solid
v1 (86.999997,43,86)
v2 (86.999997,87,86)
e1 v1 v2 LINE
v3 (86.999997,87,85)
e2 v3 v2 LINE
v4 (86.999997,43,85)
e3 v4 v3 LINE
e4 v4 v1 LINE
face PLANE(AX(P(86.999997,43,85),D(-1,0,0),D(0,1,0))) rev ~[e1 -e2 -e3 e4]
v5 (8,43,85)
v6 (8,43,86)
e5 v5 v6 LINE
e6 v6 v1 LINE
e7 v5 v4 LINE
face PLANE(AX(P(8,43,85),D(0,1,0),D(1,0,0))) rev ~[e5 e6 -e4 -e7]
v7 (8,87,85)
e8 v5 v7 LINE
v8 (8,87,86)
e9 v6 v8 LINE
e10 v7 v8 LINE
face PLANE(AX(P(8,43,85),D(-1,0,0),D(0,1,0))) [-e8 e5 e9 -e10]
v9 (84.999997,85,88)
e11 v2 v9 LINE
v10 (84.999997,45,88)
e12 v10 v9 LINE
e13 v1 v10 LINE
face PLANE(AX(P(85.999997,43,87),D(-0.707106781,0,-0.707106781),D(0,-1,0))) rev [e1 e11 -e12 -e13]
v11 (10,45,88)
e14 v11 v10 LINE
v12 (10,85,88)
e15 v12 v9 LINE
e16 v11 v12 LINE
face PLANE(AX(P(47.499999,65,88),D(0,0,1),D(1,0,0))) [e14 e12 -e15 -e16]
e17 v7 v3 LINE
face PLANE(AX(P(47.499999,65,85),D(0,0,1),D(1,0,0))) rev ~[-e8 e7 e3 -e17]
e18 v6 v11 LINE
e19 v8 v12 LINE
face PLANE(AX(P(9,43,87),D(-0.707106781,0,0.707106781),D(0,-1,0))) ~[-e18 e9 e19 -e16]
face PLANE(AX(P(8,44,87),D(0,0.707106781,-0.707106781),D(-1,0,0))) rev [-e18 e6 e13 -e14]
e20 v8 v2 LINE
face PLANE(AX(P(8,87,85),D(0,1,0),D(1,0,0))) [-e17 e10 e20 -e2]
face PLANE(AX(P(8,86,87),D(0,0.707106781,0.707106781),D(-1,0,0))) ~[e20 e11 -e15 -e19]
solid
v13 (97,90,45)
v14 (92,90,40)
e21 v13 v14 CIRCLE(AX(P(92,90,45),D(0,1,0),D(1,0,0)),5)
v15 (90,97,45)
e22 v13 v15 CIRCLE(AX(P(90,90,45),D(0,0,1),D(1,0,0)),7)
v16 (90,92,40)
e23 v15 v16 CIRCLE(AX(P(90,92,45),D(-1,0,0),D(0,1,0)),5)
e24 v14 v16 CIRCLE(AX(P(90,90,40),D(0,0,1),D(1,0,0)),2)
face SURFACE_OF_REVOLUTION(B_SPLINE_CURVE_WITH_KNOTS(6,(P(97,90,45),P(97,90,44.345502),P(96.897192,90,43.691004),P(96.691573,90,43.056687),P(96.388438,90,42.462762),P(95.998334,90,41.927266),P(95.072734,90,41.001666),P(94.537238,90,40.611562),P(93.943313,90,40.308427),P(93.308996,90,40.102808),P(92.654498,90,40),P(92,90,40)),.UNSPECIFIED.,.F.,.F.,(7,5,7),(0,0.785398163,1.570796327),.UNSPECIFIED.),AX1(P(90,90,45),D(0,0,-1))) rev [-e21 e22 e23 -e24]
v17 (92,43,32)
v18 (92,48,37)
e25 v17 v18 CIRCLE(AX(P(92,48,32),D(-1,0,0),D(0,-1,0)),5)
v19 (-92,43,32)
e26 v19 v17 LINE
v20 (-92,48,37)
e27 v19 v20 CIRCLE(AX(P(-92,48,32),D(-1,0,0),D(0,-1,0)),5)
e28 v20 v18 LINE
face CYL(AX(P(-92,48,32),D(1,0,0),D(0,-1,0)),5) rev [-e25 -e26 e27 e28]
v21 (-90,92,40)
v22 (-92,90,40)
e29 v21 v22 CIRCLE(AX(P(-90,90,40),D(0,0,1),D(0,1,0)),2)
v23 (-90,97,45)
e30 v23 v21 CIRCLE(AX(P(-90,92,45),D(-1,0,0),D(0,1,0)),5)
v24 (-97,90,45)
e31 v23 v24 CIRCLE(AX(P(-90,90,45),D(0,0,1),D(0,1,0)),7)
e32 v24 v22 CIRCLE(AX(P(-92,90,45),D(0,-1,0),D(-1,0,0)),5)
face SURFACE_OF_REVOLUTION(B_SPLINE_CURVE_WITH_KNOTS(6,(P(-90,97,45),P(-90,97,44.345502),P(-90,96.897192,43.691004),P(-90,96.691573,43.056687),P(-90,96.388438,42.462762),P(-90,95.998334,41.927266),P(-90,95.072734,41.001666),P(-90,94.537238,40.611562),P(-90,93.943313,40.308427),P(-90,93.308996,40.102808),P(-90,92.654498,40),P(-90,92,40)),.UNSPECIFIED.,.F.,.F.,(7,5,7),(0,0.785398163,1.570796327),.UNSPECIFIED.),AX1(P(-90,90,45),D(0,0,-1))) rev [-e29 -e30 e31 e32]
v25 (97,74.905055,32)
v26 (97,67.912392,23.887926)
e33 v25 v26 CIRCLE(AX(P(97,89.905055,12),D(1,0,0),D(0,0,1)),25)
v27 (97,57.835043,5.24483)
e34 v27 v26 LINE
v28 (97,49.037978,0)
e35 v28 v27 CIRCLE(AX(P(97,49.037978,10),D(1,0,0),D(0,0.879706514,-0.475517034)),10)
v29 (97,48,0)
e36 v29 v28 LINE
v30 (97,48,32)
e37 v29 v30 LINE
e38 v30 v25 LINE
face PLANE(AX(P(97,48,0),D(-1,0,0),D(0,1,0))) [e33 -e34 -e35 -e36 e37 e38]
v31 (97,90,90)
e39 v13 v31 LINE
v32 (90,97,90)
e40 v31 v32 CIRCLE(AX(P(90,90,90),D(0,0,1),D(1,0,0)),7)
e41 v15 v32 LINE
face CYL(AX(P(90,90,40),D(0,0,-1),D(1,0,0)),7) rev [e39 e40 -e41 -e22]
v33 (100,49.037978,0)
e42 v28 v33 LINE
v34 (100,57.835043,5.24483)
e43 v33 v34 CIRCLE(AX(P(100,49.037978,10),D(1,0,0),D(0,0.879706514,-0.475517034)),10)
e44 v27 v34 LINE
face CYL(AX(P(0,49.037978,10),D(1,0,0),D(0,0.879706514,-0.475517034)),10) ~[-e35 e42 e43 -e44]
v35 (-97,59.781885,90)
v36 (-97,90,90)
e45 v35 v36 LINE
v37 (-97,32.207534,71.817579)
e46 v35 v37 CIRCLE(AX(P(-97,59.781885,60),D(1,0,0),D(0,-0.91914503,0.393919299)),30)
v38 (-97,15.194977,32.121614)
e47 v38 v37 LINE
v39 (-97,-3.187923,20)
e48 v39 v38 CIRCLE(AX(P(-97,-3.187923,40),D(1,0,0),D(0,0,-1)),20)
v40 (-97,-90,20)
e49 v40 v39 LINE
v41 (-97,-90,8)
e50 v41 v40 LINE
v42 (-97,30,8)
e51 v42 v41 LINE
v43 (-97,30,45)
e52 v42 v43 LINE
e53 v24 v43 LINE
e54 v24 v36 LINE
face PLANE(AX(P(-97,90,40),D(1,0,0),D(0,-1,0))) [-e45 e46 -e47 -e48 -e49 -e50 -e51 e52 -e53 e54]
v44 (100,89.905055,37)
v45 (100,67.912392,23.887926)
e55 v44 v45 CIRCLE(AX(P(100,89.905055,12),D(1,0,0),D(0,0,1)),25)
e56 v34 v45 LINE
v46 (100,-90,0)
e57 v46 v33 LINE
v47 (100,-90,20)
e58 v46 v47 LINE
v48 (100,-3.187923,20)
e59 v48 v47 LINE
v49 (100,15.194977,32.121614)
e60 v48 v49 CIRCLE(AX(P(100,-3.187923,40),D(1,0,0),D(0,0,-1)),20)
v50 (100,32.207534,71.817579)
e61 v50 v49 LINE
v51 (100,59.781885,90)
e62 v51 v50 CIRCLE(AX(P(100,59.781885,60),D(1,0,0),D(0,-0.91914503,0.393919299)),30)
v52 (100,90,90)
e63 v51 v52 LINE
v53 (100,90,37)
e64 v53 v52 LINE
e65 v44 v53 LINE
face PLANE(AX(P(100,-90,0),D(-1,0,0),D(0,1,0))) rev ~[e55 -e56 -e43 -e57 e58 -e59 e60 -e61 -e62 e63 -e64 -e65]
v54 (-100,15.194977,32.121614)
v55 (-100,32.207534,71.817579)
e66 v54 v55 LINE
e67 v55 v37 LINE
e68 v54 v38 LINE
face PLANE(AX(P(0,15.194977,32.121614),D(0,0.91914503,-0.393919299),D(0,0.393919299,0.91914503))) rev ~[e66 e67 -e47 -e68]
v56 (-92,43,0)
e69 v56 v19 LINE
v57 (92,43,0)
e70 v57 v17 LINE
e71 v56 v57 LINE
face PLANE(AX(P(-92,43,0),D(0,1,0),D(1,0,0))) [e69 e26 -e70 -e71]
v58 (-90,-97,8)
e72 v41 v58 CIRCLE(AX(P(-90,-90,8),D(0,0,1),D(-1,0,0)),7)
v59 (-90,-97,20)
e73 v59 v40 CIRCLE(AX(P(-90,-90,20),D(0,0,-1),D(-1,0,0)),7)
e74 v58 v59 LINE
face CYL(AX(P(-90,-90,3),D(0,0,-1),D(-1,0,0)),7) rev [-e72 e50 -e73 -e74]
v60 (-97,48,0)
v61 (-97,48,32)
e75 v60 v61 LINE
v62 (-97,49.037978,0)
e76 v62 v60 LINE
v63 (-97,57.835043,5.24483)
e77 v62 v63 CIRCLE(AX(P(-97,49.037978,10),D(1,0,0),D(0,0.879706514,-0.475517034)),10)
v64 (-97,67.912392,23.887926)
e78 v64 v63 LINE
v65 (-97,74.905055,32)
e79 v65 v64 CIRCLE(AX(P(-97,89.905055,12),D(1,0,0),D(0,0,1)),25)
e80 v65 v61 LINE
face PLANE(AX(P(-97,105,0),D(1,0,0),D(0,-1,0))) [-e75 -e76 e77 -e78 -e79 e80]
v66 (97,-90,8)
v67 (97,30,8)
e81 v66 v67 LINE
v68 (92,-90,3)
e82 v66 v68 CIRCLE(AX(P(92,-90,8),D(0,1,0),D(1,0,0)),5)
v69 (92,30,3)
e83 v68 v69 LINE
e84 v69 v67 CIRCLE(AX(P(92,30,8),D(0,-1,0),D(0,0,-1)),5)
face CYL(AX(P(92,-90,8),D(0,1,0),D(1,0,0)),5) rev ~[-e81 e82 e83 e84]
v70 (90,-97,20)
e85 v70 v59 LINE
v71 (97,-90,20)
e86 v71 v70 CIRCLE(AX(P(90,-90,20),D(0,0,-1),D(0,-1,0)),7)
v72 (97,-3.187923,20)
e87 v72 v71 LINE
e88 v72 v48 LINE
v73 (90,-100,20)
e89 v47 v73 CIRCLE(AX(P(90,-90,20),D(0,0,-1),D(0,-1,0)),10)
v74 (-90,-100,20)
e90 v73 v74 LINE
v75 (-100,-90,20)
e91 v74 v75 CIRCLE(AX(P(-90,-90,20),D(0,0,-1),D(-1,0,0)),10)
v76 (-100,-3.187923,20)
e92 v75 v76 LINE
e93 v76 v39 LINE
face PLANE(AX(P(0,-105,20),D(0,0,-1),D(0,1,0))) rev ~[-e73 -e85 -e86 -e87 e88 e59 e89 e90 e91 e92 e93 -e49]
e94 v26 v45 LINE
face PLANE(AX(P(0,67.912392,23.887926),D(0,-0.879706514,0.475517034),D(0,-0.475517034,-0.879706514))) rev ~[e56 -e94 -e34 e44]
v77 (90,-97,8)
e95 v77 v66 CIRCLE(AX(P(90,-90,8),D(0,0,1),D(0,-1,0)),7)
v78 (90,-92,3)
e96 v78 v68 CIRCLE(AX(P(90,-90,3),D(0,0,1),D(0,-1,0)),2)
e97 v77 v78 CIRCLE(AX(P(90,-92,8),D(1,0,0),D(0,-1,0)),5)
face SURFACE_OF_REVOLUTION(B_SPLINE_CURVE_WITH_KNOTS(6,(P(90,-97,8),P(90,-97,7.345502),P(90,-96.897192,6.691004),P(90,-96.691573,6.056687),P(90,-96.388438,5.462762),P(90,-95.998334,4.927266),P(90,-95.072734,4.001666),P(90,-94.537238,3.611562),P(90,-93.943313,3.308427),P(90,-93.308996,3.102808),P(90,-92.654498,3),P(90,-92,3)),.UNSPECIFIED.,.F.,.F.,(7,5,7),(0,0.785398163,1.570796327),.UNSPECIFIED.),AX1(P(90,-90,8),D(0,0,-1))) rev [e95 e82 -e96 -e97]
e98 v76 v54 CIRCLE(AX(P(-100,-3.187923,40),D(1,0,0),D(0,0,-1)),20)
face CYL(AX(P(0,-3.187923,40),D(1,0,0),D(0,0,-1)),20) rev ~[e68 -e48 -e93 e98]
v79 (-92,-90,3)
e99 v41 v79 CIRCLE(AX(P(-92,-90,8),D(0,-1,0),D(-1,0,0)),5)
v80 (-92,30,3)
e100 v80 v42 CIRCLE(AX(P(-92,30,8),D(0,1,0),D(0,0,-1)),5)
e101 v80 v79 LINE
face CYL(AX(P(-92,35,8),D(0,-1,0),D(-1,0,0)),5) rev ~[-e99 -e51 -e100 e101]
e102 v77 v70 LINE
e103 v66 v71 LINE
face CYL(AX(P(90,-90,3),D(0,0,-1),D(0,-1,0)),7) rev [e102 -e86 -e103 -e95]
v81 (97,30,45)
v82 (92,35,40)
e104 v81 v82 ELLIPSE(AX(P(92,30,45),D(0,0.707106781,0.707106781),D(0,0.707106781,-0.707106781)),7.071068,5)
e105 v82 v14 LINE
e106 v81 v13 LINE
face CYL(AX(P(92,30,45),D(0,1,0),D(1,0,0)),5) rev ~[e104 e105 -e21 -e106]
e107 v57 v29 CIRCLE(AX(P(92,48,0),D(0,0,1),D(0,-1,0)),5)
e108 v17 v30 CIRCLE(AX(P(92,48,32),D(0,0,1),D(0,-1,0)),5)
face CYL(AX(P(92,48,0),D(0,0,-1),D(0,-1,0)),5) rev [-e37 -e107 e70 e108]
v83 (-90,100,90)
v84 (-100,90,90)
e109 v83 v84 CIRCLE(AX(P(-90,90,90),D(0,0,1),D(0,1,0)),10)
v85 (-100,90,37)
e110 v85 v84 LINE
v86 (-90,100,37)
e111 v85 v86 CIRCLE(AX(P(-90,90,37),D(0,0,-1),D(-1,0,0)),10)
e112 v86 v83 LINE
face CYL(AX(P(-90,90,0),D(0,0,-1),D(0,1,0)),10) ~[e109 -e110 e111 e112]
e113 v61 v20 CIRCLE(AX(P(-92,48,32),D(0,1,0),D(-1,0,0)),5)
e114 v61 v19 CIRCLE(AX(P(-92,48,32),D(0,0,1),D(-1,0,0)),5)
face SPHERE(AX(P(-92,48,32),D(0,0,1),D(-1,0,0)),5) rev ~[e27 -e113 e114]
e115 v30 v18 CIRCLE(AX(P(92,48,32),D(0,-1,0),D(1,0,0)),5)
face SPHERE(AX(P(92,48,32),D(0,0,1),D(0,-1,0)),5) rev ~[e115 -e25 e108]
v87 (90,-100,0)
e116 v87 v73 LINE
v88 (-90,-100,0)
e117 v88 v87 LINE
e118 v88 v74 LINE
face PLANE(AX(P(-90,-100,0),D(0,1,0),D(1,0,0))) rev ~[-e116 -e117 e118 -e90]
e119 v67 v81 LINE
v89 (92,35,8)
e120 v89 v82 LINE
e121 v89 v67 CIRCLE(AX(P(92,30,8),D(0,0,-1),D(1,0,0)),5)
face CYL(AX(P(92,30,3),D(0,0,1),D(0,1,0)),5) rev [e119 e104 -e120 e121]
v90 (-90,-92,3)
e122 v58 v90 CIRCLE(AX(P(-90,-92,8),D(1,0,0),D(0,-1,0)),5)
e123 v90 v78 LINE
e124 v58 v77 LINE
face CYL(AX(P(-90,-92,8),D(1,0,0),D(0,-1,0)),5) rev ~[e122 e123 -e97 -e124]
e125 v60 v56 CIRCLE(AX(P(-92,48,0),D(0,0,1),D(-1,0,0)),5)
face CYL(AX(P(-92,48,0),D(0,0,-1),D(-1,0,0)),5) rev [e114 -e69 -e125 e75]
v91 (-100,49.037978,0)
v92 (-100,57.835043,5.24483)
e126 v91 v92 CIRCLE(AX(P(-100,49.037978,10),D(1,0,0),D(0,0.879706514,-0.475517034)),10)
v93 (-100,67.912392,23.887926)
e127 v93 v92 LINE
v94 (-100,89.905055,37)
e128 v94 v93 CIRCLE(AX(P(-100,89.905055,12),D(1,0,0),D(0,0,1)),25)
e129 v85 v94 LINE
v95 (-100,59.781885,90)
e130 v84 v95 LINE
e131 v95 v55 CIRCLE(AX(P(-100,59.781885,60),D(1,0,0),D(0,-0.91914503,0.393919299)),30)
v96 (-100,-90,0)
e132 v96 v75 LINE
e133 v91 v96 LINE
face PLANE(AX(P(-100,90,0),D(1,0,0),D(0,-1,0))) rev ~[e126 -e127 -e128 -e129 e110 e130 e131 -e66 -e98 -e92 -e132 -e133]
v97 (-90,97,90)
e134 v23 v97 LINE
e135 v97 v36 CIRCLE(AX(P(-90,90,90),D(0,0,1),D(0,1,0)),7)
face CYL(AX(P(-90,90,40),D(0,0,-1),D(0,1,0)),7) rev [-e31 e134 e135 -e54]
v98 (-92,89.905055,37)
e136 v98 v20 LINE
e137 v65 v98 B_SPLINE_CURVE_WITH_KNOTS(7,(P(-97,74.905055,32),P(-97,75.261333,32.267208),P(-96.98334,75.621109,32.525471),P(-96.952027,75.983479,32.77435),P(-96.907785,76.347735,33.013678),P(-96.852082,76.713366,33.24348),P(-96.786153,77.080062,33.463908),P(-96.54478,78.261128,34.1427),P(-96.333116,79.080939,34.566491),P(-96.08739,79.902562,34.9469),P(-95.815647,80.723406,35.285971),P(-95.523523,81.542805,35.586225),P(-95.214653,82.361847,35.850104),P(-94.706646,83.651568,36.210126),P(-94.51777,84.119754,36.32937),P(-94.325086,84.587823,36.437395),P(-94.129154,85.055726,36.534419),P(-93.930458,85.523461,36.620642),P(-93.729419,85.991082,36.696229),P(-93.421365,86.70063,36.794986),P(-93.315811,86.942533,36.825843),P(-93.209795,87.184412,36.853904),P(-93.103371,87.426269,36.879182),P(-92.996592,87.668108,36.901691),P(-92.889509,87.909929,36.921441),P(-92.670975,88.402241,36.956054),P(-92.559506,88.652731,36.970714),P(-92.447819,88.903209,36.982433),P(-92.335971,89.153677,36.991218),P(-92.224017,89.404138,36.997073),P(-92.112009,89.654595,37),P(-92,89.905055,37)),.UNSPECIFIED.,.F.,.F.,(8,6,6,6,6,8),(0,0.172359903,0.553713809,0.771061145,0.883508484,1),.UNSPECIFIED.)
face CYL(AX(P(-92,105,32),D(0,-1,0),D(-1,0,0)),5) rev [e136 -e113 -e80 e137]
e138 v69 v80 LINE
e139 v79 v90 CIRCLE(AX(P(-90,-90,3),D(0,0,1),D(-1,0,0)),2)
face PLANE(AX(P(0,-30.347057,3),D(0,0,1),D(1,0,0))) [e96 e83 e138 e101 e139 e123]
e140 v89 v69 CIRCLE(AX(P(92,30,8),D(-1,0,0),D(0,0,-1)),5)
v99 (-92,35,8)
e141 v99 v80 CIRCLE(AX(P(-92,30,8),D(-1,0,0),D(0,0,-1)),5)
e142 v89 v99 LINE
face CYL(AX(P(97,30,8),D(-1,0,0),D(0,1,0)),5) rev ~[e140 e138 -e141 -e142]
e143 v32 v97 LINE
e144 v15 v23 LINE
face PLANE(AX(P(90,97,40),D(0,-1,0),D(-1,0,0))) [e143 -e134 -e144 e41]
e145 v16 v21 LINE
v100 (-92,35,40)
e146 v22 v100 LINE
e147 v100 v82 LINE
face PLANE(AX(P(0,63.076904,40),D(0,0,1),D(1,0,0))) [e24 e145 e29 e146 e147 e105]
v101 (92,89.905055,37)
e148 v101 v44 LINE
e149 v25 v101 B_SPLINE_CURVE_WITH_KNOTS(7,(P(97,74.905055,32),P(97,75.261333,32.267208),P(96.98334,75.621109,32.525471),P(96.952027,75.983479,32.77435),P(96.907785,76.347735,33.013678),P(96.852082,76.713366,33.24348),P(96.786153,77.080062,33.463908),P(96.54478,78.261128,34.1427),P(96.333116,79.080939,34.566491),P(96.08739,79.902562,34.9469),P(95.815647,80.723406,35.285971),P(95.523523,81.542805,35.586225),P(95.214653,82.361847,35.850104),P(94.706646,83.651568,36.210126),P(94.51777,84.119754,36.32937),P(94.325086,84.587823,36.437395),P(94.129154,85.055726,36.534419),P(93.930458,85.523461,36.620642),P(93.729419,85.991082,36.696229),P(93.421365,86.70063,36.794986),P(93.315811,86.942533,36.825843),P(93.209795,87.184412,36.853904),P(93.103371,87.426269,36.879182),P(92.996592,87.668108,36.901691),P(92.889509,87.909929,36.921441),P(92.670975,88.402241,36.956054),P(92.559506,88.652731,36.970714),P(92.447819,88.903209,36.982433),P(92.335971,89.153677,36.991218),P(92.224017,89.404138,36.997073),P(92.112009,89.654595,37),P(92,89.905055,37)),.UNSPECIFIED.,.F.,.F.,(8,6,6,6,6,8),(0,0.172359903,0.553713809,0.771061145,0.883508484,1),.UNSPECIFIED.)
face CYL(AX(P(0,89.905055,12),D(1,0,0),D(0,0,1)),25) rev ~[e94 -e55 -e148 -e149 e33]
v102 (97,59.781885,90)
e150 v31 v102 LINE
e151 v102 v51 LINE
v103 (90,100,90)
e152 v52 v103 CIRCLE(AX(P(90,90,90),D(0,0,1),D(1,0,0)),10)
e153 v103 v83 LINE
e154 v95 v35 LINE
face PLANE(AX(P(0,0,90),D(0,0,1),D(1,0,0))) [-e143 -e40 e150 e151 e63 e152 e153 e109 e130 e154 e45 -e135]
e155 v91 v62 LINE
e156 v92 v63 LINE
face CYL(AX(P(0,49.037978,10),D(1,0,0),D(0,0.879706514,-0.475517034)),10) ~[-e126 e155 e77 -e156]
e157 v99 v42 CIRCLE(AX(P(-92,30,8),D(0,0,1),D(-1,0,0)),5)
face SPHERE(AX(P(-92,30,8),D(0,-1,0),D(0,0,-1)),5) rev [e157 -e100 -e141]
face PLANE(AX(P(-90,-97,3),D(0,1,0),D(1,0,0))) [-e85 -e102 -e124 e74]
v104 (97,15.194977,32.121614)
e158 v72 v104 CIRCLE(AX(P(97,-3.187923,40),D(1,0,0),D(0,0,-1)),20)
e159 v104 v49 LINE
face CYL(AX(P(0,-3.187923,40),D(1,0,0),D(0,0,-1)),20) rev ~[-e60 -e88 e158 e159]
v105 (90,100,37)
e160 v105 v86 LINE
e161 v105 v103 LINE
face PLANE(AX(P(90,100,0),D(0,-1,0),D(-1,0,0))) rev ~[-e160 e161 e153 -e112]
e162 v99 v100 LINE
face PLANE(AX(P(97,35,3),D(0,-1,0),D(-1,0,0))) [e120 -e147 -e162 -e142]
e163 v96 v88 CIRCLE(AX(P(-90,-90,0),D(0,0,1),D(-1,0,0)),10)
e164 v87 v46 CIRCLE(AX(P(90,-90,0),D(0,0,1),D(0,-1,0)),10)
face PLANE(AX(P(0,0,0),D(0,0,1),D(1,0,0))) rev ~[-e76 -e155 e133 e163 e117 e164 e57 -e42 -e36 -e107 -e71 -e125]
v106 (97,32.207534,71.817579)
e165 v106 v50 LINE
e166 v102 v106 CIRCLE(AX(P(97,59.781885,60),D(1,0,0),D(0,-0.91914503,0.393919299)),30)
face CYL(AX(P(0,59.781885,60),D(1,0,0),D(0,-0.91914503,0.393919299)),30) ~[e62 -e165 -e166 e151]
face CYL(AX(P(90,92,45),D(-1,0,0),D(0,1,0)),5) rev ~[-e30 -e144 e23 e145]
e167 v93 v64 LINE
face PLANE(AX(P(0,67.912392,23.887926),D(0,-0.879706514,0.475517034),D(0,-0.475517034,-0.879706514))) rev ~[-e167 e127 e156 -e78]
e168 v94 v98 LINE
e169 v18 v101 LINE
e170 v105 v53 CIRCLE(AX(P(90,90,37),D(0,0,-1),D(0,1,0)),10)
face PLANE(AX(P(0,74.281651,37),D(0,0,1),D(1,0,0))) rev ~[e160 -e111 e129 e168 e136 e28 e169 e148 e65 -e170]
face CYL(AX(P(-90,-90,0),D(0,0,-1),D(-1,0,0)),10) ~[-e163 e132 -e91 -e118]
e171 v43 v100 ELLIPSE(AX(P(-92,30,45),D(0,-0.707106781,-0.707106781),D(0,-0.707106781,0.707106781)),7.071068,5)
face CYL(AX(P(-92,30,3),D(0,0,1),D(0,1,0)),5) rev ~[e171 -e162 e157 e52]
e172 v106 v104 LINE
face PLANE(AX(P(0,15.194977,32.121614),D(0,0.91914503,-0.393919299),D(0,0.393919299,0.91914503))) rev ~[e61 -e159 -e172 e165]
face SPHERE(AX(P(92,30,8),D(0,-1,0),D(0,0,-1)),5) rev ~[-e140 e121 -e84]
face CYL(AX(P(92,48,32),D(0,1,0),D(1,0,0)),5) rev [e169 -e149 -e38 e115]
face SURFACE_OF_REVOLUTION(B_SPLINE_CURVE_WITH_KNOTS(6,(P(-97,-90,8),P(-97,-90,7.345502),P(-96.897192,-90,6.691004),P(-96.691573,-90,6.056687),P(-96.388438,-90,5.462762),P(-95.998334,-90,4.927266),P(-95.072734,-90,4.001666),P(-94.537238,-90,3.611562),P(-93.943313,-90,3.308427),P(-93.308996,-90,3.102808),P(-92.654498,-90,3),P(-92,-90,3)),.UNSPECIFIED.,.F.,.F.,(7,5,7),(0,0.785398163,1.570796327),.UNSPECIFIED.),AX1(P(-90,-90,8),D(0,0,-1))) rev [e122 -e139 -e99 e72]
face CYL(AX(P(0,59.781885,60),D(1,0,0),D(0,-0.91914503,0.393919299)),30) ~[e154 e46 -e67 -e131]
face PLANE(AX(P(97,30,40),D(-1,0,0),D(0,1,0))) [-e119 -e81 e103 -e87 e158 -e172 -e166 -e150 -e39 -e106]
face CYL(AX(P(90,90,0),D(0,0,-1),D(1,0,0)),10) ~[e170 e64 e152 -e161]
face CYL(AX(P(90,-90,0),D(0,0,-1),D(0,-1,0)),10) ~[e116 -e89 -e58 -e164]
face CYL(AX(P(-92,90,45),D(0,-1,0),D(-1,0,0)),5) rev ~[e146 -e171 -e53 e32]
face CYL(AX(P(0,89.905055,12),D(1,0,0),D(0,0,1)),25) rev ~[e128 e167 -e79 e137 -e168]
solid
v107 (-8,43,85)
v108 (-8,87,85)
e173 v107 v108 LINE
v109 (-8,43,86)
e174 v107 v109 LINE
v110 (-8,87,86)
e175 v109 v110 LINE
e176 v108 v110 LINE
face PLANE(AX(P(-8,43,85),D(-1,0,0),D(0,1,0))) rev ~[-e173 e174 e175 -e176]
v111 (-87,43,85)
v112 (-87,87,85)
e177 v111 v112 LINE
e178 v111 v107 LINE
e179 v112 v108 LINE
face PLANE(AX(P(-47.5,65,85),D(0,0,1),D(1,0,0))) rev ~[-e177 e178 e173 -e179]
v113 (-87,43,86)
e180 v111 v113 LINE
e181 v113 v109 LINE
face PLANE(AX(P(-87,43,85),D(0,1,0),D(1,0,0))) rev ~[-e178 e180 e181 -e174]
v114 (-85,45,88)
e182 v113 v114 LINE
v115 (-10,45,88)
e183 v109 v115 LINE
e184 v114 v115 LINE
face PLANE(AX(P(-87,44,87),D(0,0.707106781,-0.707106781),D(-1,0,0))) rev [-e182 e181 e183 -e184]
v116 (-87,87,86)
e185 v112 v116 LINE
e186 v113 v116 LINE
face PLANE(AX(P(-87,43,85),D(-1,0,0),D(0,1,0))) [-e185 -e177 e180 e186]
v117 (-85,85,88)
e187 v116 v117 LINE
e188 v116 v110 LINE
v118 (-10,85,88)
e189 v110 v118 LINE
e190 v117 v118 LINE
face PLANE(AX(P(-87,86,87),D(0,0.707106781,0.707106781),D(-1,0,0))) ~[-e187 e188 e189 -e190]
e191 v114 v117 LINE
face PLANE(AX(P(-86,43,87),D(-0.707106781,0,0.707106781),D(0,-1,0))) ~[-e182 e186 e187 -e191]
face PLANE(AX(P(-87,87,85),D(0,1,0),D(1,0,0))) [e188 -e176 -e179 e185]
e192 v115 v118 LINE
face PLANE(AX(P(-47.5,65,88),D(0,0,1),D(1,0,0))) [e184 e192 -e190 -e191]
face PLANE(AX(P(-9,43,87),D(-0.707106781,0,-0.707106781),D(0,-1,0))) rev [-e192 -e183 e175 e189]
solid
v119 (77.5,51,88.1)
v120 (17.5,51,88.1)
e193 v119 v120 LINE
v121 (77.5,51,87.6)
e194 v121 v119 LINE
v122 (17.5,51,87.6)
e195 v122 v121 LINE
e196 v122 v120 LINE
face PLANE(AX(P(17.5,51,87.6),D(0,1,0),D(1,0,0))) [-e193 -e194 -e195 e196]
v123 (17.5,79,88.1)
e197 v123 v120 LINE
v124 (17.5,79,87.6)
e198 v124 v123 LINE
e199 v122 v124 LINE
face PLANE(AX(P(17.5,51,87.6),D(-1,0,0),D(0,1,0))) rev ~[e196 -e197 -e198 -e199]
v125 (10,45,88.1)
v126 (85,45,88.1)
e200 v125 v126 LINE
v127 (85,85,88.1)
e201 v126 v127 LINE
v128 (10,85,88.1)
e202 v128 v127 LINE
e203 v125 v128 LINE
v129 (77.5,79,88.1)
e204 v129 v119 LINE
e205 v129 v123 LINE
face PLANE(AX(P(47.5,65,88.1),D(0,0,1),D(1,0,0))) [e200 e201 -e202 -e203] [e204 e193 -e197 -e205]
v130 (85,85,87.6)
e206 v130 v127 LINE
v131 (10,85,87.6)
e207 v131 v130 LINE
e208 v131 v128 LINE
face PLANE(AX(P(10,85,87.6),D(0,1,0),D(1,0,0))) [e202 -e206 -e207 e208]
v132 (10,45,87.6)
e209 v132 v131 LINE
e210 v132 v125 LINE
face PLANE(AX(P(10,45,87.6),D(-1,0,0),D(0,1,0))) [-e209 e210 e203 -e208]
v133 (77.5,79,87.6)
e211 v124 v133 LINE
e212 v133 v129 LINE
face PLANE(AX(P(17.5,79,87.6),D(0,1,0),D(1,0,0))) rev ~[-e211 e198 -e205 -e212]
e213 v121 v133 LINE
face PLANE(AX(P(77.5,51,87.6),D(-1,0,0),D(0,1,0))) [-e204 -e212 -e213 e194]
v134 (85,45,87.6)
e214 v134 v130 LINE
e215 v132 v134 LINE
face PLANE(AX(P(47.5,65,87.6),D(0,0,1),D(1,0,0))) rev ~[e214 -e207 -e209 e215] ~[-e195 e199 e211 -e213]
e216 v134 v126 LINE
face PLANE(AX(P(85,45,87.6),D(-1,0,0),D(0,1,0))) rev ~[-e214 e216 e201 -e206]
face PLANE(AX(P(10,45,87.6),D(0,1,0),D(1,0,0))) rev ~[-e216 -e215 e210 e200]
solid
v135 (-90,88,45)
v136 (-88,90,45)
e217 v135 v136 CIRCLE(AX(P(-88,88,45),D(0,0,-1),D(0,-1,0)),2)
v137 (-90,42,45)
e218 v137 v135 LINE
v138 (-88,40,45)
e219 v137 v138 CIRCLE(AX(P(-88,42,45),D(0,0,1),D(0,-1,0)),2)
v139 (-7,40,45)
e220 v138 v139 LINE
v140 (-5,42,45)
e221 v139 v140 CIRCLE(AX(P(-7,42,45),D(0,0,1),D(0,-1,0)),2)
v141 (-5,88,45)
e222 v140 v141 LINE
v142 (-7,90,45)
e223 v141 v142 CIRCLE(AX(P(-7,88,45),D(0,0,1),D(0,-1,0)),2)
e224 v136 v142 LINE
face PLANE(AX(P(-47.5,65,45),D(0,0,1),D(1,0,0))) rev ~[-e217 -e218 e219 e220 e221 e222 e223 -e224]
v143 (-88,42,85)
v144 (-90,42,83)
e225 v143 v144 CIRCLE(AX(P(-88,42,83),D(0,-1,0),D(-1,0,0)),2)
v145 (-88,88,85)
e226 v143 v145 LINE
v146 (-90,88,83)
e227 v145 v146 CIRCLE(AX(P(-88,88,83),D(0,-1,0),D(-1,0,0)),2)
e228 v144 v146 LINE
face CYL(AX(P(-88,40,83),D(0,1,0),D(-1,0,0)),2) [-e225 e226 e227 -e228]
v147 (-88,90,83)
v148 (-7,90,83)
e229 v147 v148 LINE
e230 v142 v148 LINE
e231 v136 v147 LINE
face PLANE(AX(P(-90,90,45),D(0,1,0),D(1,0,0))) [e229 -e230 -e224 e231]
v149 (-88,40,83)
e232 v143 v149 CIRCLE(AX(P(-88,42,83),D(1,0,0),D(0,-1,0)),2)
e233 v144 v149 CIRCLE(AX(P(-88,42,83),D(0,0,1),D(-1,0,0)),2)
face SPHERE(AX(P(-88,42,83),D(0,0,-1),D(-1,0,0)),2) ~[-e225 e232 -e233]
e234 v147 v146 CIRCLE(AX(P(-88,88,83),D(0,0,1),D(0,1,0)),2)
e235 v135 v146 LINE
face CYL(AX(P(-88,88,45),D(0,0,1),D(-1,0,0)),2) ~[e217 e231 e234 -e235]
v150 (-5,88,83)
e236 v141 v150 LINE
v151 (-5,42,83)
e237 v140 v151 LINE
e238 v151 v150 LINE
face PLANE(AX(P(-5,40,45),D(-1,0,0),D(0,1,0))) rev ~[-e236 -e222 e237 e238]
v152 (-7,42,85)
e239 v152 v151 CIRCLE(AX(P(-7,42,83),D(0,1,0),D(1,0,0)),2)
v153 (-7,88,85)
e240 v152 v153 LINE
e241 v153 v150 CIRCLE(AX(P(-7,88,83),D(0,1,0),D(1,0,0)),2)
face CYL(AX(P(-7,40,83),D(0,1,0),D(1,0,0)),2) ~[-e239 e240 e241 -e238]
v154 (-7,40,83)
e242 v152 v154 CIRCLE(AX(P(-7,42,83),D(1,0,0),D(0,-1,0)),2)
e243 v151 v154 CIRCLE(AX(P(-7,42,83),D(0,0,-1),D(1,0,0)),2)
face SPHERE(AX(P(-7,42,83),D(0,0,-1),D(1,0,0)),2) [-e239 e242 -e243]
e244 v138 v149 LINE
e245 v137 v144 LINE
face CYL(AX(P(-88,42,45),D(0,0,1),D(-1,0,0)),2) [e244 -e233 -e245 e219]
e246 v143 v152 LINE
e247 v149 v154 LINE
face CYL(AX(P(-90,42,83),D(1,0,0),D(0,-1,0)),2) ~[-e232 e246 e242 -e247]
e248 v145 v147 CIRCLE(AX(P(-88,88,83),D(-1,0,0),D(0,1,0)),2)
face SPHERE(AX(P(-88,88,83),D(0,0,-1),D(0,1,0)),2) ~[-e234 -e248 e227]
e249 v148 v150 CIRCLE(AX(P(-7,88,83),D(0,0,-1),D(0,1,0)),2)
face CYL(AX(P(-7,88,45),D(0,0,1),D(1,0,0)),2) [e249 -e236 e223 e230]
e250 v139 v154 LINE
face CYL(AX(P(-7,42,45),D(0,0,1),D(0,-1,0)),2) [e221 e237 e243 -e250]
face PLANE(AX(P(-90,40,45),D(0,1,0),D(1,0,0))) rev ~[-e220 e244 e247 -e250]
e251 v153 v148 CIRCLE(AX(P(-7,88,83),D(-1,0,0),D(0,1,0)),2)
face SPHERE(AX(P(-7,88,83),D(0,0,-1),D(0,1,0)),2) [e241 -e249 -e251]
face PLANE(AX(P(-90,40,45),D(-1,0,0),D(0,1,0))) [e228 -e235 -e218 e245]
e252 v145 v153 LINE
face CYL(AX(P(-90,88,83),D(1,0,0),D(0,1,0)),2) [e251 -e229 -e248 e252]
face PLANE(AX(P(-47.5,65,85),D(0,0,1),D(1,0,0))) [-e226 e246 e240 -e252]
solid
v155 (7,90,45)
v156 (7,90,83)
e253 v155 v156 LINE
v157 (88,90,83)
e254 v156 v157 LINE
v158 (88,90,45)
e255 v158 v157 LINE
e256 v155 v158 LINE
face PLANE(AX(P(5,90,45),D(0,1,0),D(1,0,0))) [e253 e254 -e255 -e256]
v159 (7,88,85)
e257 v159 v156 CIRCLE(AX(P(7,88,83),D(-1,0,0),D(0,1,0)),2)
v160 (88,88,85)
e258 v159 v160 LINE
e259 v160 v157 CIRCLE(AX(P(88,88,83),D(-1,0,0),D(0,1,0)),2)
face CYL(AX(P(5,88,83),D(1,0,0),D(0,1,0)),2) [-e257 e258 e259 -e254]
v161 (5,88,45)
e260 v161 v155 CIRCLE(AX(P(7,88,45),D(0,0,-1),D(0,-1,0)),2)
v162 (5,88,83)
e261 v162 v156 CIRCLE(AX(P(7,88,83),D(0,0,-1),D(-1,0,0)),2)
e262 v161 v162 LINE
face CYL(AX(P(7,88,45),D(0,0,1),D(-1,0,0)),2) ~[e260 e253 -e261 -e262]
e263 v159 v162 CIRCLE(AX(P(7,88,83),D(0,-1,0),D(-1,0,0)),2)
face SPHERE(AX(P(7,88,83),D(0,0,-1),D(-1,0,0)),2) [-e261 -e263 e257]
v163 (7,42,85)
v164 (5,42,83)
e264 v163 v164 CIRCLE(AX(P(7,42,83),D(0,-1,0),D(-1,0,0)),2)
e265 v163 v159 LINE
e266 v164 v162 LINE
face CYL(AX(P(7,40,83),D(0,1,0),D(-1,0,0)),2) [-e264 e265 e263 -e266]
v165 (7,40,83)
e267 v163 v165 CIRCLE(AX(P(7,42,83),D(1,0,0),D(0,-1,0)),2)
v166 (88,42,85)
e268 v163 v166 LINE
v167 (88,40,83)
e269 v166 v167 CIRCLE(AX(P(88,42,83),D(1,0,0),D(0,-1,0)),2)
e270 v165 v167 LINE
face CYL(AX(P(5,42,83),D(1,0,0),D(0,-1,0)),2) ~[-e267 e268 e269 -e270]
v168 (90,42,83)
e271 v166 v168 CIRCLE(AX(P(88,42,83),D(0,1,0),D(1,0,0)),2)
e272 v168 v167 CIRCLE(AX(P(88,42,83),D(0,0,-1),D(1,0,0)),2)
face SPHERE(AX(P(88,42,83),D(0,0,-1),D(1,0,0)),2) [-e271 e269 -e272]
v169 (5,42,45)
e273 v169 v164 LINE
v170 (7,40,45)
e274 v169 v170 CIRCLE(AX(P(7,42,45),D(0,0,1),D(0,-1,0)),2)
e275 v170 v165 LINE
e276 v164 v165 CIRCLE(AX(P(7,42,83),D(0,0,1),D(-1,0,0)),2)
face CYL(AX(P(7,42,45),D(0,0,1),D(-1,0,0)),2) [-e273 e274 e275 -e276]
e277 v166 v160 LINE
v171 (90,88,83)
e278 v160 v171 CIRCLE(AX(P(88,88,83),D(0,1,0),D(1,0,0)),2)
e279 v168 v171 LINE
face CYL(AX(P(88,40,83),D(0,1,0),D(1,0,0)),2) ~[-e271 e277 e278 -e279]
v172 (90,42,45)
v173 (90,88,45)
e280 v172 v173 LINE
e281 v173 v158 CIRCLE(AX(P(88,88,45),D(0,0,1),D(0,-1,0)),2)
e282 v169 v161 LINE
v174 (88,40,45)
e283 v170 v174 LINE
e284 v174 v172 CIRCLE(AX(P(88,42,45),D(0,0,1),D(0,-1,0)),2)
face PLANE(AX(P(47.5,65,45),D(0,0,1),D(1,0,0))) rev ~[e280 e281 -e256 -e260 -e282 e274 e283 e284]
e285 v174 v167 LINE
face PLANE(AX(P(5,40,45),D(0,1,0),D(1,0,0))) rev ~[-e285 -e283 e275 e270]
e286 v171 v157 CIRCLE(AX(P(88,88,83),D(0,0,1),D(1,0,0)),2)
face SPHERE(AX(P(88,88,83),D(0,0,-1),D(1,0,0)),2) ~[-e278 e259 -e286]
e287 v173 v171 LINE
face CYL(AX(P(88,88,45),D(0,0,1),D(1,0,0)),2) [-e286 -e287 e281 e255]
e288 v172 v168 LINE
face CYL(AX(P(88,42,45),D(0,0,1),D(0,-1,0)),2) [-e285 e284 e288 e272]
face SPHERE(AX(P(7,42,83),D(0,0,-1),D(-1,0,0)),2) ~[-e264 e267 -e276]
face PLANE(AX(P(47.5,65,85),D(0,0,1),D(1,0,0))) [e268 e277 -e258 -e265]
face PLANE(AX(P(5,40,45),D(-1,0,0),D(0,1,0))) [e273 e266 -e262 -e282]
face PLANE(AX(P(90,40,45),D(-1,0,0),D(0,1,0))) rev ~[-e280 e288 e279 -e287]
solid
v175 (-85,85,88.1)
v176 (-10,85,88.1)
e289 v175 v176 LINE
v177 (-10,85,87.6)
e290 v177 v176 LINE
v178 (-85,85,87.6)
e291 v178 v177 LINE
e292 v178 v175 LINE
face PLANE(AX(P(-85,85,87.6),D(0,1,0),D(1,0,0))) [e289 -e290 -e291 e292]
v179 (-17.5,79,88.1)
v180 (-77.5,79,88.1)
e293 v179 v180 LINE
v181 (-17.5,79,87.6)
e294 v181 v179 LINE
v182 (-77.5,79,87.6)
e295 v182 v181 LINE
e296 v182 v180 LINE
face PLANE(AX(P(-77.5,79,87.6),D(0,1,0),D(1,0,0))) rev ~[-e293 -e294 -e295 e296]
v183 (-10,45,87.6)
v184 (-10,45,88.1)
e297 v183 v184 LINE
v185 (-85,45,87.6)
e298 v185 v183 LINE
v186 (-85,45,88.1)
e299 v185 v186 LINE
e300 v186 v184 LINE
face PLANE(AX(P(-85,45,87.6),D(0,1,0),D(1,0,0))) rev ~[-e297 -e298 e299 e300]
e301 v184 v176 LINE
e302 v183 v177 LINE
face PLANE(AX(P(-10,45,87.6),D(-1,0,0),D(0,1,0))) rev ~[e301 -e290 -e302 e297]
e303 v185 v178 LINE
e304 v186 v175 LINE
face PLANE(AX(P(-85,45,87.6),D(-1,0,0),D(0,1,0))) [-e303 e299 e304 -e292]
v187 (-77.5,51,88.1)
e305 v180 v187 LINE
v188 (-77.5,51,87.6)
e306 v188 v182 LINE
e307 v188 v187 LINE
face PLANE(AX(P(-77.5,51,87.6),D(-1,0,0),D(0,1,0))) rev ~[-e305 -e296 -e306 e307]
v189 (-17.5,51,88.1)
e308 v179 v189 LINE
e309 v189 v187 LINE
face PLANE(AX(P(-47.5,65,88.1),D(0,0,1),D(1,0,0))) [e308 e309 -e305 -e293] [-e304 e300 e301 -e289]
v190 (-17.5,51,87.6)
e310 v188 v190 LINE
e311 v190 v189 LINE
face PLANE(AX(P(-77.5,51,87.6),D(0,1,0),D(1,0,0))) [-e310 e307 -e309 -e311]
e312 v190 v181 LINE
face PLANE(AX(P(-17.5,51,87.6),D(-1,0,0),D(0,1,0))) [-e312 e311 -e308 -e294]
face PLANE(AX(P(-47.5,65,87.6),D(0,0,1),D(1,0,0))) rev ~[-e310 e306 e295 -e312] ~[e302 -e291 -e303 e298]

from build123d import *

# Parameters (mm, degrees)
F1_DEPTH   = 90
F3_DEPTH   = 80
F4_R       = 5
F7_DEPTH   = 50
F8_R       = 5
F12_DEPTH  = 37
F13_R      = 5
F16_DEPTH  = 105
F18_DEPTH  = 105
F20_W      = 85
F20_H      = 50
F21_DEPTH  = 40
F22_R      = 2
F22_2_R    = 2
F24_W      = 78.9999971262
F24_H      = 44
F25_DEPTH  = 3
F24_W_2    = 79
F26_SIZE   = 2
F26_2_SIZE = 2
F28_W      = 75
F28_H      = 40
F29_DEPTH  = 0.5
F30_W      = 60
F30_H      = 28
F31_DEPTH  = 1


with BuildPart() as f1:
    # F0 (on Top) → F1 (new body)
    with BuildSketch(Plane.XY):
        with BuildLine():
            Line((90, 100), (-90, 100))
            ThreePointArc((-90, 100), (-97.0710678119, 97.0710678119), (-100, 90))
            Line((-100, 90), (-100, -90))
            ThreePointArc((-100, -90), (-97.0710678119, -97.0710678119), (-90, -100))
            Line((-90, -100), (90, -100))
            ThreePointArc((90, -100), (97.0710678119, -97.0710678119), (100, -90))
            Line((100, -90), (100, 90))
            ThreePointArc((100, 90), (97.0710678119, 97.0710678119), (90, 100))
        make_face()
    extrude(amount=F1_DEPTH)


with BuildPart() as f3:
    # F2 (on Top) → F3 (new body)
    with BuildSketch(Plane.XY):
        with BuildLine():
            Line((97, 35), (-97, 35))
            Line((-97, 35), (-97, -90))
            ThreePointArc((-97, -90), (-94.9497474683, -94.9497474683), (-90, -97))
            Line((-90, -97), (90, -97))
            ThreePointArc((90, -97), (94.9497474683, -94.9497474683), (97, -90))
            Line((97, -90), (97, 35))
        make_face()
    extrude(amount=F3_DEPTH)

    # F4
    f4_edges = [f3.edges().sort_by_distance(p)[0] for p in [
        (-97, -27.5, 0),
        (-94.949747, -94.949747, 0),
        (0, -97, 0),
        (94.949747, -94.949747, 0),
        (97, -27.5, 0),
        (0, 35, 0),
        (-97, 35, 40),
        (97, 35, 40),
    ]]
    fillet(f4_edges, radius=F4_R)


with BuildPart() as f3_1:
    # F5: moved
    add(f3.part.moved(Location((0, 0, 3))))


with BuildPart() as f7:
    # F6 (on Top) → F7 (new body)
    with BuildSketch(Plane.XY):
        with BuildLine():
            Line((-97, 90), (-97, 30))
            Line((-97, 30), (97, 30))
            Line((97, 30), (97, 90))
            ThreePointArc((97, 90), (94.9497474683, 94.9497474683), (90, 97))
            Line((90, 97), (-90, 97))
            ThreePointArc((-90, 97), (-94.9497474683, 94.9497474683), (-97, 90))
        make_face()
    extrude(amount=F7_DEPTH)

    # F8
    f8_edges = [f7.edges().sort_by_distance(p)[0] for p in [
        (-97, 60, 0),
        (-94.949747, 94.949747, 0),
        (0, 97, 0),
        (94.949747, 94.949747, 0),
        (97, 60, 0),
    ]]
    fillet(f8_edges, radius=F8_R)


with BuildPart() as f7_1:
    # F9: moved
    add(f7.part.moved(Location((0, 0, 40))))


with BuildPart() as f1_1:
    add(f1.part)

    # F10: cut F7, F3
    add(f7_1.part, mode=Mode.SUBTRACT)
    add(f3_1.part, mode=Mode.SUBTRACT)


with BuildPart() as f12:
    # F11 (on Top) → F12 (new body)
    with BuildSketch(Plane.XY):
        with BuildLine():
            Line((97, 105), (-97, 105))
            Line((-97, 105), (-97, 48))
            ThreePointArc((-97, 48), (-95.5355339059, 44.4644660941), (-92, 43))
            Line((-92, 43), (92, 43))
            ThreePointArc((92, 43), (95.5355339059, 44.4644660941), (97, 48))
            Line((97, 48), (97, 105))
        make_face()
    extrude(amount=F12_DEPTH)

    # F13
    f13_edges = [f12.edges().sort_by_distance(p)[0] for p in [
        (0, 43, 37),
        (95.535534, 44.464466, 37),
        (97, 76.5, 37),
        (-95.535534, 44.464466, 37),
        (-97, 76.5, 37),
    ]]
    fillet(f13_edges, radius=F13_R)


with BuildPart() as f1_2:
    add(f1_1.part)

    # F14: cut F12
    add(f12.part, mode=Mode.SUBTRACT)


with BuildPart() as f16:
    # F15 (on Right) → F16 (new body, symmetric)
    with BuildSketch(Plane.YZ):
        with BuildLine():
            Line((105, -10), (105, 37))
            Line((105, 37), (89.9050551957, 37))
            ThreePointArc((89.9050551957, 37), (77.1026754653, 33.47321758), (67.9123923563, 23.8879258591))
            Line((67.9123923563, 23.8879258591), (57.8350430575, 5.2448296563))
            ThreePointArc((57.8350430575, 5.2448296563), (54.1589298139, 1.410712968), (49.0379779217, 0))
            Line((49.0379779217, 0), (25.0807348639, 0))
            Line((25.0807348639, 0), (25.0807348639, -10))
            Line((25.0807348639, -10), (105, -10))
        make_face()
    extrude(amount=F16_DEPTH, both=True)


with BuildPart() as f18:
    # F17 (on Right) → F18 (new body, symmetric)
    with BuildSketch(Plane.YZ):
        with BuildLine():
            Line((-105, 100), (-105, 20))
            Line((-105, 20), (-3.1879231596, 20))
            ThreePointArc((-3.1879231596, 20), (7.8218970153, 23.3031781552), (15.1949774408, 32.1216140284))
            Line((15.1949774407, 32.1216140284), (32.2075338389, 71.8175789574))
            ThreePointArc((32.2075338389, 71.8175789574), (43.267154477, 85.0452327671), (59.7818847394, 90))
            Line((59.7818847394, 90), (80, 90))
            Line((80, 90), (80, 100))
            Line((80, 100), (-105, 100))
        make_face()
    extrude(amount=F18_DEPTH, both=True)


with BuildPart() as f1_3:
    add(f1_2.part)

    # F19: cut F16, F18
    add(f16.part, mode=Mode.SUBTRACT)
    add(f18.part, mode=Mode.SUBTRACT)


with BuildPart() as f21:
    # F20 (on Top) → F21 (new body)
    with BuildSketch(Plane.XY):
        with Locations((-47.5, 65)):
            Rectangle(F20_W, F20_H)
    extrude(amount=F21_DEPTH)

    # F22
    f22_edges = [f21.edges().sort_by_distance(p)[0] for p in [
        (-90, 40, 20),
        (-5, 40, 20),
        (-90, 90, 20),
        (-5, 90, 20),
        (-47.5, 90, 40),
        (-90, 65, 40),
        (-5, 65, 40),
        (-47.5, 40, 40),
    ]]
    fillet(f22_edges, radius=F22_R)


with BuildPart() as f21b:
    # F20 (on Top) → F21, piece 2 (new body)
    with BuildSketch(Plane.XY):
        with Locations((47.5, 65)):
            Rectangle(F20_W, F20_H)
    extrude(amount=F21_DEPTH)

    # F22#2
    f22_2_edges = [f21b.edges().sort_by_distance(p)[0] for p in [
        (5, 40, 20),
        (90, 40, 20),
        (5, 90, 20),
        (90, 90, 20),
        (5, 65, 40),
        (90, 65, 40),
        (47.5, 40, 40),
        (47.5, 90, 40),
    ]]
    fillet(f22_2_edges, radius=F22_2_R)


with BuildPart() as f21_1:
    # F23: moved
    add(f21.part.moved(Location((0, 0, 45))))


with BuildPart() as f21b_1:
    # F23: moved
    add(f21b.part.moved(Location((0, 0, 45))))


with BuildPart() as f25:
    # F24 (on Top) → F25 (new body)
    with BuildSketch(Plane.XY):
        with Locations((47.4999985631, 65)):
            Rectangle(F24_W, F24_H)
    extrude(amount=F25_DEPTH)

    # F26#2
    f26_2_edges = [f25.edges().sort_by_distance(p)[0] for p in [
        (8, 65, 3),
        (47.499999, 87, 3),
        (47.499999, 43, 3),
        (86.999997, 65, 3),
    ]]
    chamfer(f26_2_edges, length=F26_2_SIZE)


with BuildPart() as f25b:
    # F24 (on Top) → F25, piece 2 (new body)
    with BuildSketch(Plane.XY):
        with Locations((-47.5, 65)):
            Rectangle(F24_W_2, F24_H)
    extrude(amount=F25_DEPTH)

    # F26
    f26_edges = [f25b.edges().sort_by_distance(p)[0] for p in [
        (-87, 65, 3),
        (-47.5, 43, 3),
        (-8, 65, 3),
        (-47.5, 87, 3),
    ]]
    chamfer(f26_edges, length=F26_SIZE)


with BuildPart() as f25b_1:
    # F27: moved
    add(f25b.part.moved(Location((0, 0, 85))))


with BuildPart() as f25_1:
    # F27: moved
    add(f25.part.moved(Location((0, 0, 85))))


with BuildPart() as f29:
    # F28 (on face) → F29 (new body)
    with BuildSketch(Plane.XY):
        with Locations((47.5, 65)):
            Rectangle(F28_W, F28_H)
    extrude(amount=F29_DEPTH)


with BuildPart() as f29b:
    # F28 (on face) → F29, piece 2 (new body)
    with BuildSketch(Plane.XY):
        with Locations((-47.5, 65)):
            Rectangle(F28_W, F28_H)
    extrude(amount=F29_DEPTH)


with BuildPart() as f31:
    # F30 (on face) → F31 (new body)
    with BuildSketch(Plane.XY):
        with Locations((-47.5, 65)):
            Rectangle(F30_W, F30_H)
    extrude(amount=F31_DEPTH)


with BuildPart() as f31b:
    # F30 (on face) → F31, piece 2 (new body)
    with BuildSketch(Plane.XY):
        with Locations((47.5, 65)):
            Rectangle(F30_W, F30_H)
    extrude(amount=F31_DEPTH)


with BuildPart() as f29b_1:
    add(f29b.part)

    # F32: cut F31, F31b
    add(f31.part, mode=Mode.SUBTRACT)
    add(f31b.part, mode=Mode.SUBTRACT)


with BuildPart() as f29_1:
    add(f29.part)

    # F32: cut F31, F31b
    add(f31.part, mode=Mode.SUBTRACT)
    add(f31b.part, mode=Mode.SUBTRACT)


with BuildPart() as f29b_2:
    # F33: moved
    add(f29b_1.part.moved(Location((0, 0, 87.6))))


with BuildPart() as f29_2:
    # F33: moved
    add(f29_1.part.moved(Location((0, 0, 87.6))))


solid = Compound([f1_3.part, f21_1.part, f21b_1.part, f25b_1.part, f25_1.part, f29b_2.part, f29_2.part])
